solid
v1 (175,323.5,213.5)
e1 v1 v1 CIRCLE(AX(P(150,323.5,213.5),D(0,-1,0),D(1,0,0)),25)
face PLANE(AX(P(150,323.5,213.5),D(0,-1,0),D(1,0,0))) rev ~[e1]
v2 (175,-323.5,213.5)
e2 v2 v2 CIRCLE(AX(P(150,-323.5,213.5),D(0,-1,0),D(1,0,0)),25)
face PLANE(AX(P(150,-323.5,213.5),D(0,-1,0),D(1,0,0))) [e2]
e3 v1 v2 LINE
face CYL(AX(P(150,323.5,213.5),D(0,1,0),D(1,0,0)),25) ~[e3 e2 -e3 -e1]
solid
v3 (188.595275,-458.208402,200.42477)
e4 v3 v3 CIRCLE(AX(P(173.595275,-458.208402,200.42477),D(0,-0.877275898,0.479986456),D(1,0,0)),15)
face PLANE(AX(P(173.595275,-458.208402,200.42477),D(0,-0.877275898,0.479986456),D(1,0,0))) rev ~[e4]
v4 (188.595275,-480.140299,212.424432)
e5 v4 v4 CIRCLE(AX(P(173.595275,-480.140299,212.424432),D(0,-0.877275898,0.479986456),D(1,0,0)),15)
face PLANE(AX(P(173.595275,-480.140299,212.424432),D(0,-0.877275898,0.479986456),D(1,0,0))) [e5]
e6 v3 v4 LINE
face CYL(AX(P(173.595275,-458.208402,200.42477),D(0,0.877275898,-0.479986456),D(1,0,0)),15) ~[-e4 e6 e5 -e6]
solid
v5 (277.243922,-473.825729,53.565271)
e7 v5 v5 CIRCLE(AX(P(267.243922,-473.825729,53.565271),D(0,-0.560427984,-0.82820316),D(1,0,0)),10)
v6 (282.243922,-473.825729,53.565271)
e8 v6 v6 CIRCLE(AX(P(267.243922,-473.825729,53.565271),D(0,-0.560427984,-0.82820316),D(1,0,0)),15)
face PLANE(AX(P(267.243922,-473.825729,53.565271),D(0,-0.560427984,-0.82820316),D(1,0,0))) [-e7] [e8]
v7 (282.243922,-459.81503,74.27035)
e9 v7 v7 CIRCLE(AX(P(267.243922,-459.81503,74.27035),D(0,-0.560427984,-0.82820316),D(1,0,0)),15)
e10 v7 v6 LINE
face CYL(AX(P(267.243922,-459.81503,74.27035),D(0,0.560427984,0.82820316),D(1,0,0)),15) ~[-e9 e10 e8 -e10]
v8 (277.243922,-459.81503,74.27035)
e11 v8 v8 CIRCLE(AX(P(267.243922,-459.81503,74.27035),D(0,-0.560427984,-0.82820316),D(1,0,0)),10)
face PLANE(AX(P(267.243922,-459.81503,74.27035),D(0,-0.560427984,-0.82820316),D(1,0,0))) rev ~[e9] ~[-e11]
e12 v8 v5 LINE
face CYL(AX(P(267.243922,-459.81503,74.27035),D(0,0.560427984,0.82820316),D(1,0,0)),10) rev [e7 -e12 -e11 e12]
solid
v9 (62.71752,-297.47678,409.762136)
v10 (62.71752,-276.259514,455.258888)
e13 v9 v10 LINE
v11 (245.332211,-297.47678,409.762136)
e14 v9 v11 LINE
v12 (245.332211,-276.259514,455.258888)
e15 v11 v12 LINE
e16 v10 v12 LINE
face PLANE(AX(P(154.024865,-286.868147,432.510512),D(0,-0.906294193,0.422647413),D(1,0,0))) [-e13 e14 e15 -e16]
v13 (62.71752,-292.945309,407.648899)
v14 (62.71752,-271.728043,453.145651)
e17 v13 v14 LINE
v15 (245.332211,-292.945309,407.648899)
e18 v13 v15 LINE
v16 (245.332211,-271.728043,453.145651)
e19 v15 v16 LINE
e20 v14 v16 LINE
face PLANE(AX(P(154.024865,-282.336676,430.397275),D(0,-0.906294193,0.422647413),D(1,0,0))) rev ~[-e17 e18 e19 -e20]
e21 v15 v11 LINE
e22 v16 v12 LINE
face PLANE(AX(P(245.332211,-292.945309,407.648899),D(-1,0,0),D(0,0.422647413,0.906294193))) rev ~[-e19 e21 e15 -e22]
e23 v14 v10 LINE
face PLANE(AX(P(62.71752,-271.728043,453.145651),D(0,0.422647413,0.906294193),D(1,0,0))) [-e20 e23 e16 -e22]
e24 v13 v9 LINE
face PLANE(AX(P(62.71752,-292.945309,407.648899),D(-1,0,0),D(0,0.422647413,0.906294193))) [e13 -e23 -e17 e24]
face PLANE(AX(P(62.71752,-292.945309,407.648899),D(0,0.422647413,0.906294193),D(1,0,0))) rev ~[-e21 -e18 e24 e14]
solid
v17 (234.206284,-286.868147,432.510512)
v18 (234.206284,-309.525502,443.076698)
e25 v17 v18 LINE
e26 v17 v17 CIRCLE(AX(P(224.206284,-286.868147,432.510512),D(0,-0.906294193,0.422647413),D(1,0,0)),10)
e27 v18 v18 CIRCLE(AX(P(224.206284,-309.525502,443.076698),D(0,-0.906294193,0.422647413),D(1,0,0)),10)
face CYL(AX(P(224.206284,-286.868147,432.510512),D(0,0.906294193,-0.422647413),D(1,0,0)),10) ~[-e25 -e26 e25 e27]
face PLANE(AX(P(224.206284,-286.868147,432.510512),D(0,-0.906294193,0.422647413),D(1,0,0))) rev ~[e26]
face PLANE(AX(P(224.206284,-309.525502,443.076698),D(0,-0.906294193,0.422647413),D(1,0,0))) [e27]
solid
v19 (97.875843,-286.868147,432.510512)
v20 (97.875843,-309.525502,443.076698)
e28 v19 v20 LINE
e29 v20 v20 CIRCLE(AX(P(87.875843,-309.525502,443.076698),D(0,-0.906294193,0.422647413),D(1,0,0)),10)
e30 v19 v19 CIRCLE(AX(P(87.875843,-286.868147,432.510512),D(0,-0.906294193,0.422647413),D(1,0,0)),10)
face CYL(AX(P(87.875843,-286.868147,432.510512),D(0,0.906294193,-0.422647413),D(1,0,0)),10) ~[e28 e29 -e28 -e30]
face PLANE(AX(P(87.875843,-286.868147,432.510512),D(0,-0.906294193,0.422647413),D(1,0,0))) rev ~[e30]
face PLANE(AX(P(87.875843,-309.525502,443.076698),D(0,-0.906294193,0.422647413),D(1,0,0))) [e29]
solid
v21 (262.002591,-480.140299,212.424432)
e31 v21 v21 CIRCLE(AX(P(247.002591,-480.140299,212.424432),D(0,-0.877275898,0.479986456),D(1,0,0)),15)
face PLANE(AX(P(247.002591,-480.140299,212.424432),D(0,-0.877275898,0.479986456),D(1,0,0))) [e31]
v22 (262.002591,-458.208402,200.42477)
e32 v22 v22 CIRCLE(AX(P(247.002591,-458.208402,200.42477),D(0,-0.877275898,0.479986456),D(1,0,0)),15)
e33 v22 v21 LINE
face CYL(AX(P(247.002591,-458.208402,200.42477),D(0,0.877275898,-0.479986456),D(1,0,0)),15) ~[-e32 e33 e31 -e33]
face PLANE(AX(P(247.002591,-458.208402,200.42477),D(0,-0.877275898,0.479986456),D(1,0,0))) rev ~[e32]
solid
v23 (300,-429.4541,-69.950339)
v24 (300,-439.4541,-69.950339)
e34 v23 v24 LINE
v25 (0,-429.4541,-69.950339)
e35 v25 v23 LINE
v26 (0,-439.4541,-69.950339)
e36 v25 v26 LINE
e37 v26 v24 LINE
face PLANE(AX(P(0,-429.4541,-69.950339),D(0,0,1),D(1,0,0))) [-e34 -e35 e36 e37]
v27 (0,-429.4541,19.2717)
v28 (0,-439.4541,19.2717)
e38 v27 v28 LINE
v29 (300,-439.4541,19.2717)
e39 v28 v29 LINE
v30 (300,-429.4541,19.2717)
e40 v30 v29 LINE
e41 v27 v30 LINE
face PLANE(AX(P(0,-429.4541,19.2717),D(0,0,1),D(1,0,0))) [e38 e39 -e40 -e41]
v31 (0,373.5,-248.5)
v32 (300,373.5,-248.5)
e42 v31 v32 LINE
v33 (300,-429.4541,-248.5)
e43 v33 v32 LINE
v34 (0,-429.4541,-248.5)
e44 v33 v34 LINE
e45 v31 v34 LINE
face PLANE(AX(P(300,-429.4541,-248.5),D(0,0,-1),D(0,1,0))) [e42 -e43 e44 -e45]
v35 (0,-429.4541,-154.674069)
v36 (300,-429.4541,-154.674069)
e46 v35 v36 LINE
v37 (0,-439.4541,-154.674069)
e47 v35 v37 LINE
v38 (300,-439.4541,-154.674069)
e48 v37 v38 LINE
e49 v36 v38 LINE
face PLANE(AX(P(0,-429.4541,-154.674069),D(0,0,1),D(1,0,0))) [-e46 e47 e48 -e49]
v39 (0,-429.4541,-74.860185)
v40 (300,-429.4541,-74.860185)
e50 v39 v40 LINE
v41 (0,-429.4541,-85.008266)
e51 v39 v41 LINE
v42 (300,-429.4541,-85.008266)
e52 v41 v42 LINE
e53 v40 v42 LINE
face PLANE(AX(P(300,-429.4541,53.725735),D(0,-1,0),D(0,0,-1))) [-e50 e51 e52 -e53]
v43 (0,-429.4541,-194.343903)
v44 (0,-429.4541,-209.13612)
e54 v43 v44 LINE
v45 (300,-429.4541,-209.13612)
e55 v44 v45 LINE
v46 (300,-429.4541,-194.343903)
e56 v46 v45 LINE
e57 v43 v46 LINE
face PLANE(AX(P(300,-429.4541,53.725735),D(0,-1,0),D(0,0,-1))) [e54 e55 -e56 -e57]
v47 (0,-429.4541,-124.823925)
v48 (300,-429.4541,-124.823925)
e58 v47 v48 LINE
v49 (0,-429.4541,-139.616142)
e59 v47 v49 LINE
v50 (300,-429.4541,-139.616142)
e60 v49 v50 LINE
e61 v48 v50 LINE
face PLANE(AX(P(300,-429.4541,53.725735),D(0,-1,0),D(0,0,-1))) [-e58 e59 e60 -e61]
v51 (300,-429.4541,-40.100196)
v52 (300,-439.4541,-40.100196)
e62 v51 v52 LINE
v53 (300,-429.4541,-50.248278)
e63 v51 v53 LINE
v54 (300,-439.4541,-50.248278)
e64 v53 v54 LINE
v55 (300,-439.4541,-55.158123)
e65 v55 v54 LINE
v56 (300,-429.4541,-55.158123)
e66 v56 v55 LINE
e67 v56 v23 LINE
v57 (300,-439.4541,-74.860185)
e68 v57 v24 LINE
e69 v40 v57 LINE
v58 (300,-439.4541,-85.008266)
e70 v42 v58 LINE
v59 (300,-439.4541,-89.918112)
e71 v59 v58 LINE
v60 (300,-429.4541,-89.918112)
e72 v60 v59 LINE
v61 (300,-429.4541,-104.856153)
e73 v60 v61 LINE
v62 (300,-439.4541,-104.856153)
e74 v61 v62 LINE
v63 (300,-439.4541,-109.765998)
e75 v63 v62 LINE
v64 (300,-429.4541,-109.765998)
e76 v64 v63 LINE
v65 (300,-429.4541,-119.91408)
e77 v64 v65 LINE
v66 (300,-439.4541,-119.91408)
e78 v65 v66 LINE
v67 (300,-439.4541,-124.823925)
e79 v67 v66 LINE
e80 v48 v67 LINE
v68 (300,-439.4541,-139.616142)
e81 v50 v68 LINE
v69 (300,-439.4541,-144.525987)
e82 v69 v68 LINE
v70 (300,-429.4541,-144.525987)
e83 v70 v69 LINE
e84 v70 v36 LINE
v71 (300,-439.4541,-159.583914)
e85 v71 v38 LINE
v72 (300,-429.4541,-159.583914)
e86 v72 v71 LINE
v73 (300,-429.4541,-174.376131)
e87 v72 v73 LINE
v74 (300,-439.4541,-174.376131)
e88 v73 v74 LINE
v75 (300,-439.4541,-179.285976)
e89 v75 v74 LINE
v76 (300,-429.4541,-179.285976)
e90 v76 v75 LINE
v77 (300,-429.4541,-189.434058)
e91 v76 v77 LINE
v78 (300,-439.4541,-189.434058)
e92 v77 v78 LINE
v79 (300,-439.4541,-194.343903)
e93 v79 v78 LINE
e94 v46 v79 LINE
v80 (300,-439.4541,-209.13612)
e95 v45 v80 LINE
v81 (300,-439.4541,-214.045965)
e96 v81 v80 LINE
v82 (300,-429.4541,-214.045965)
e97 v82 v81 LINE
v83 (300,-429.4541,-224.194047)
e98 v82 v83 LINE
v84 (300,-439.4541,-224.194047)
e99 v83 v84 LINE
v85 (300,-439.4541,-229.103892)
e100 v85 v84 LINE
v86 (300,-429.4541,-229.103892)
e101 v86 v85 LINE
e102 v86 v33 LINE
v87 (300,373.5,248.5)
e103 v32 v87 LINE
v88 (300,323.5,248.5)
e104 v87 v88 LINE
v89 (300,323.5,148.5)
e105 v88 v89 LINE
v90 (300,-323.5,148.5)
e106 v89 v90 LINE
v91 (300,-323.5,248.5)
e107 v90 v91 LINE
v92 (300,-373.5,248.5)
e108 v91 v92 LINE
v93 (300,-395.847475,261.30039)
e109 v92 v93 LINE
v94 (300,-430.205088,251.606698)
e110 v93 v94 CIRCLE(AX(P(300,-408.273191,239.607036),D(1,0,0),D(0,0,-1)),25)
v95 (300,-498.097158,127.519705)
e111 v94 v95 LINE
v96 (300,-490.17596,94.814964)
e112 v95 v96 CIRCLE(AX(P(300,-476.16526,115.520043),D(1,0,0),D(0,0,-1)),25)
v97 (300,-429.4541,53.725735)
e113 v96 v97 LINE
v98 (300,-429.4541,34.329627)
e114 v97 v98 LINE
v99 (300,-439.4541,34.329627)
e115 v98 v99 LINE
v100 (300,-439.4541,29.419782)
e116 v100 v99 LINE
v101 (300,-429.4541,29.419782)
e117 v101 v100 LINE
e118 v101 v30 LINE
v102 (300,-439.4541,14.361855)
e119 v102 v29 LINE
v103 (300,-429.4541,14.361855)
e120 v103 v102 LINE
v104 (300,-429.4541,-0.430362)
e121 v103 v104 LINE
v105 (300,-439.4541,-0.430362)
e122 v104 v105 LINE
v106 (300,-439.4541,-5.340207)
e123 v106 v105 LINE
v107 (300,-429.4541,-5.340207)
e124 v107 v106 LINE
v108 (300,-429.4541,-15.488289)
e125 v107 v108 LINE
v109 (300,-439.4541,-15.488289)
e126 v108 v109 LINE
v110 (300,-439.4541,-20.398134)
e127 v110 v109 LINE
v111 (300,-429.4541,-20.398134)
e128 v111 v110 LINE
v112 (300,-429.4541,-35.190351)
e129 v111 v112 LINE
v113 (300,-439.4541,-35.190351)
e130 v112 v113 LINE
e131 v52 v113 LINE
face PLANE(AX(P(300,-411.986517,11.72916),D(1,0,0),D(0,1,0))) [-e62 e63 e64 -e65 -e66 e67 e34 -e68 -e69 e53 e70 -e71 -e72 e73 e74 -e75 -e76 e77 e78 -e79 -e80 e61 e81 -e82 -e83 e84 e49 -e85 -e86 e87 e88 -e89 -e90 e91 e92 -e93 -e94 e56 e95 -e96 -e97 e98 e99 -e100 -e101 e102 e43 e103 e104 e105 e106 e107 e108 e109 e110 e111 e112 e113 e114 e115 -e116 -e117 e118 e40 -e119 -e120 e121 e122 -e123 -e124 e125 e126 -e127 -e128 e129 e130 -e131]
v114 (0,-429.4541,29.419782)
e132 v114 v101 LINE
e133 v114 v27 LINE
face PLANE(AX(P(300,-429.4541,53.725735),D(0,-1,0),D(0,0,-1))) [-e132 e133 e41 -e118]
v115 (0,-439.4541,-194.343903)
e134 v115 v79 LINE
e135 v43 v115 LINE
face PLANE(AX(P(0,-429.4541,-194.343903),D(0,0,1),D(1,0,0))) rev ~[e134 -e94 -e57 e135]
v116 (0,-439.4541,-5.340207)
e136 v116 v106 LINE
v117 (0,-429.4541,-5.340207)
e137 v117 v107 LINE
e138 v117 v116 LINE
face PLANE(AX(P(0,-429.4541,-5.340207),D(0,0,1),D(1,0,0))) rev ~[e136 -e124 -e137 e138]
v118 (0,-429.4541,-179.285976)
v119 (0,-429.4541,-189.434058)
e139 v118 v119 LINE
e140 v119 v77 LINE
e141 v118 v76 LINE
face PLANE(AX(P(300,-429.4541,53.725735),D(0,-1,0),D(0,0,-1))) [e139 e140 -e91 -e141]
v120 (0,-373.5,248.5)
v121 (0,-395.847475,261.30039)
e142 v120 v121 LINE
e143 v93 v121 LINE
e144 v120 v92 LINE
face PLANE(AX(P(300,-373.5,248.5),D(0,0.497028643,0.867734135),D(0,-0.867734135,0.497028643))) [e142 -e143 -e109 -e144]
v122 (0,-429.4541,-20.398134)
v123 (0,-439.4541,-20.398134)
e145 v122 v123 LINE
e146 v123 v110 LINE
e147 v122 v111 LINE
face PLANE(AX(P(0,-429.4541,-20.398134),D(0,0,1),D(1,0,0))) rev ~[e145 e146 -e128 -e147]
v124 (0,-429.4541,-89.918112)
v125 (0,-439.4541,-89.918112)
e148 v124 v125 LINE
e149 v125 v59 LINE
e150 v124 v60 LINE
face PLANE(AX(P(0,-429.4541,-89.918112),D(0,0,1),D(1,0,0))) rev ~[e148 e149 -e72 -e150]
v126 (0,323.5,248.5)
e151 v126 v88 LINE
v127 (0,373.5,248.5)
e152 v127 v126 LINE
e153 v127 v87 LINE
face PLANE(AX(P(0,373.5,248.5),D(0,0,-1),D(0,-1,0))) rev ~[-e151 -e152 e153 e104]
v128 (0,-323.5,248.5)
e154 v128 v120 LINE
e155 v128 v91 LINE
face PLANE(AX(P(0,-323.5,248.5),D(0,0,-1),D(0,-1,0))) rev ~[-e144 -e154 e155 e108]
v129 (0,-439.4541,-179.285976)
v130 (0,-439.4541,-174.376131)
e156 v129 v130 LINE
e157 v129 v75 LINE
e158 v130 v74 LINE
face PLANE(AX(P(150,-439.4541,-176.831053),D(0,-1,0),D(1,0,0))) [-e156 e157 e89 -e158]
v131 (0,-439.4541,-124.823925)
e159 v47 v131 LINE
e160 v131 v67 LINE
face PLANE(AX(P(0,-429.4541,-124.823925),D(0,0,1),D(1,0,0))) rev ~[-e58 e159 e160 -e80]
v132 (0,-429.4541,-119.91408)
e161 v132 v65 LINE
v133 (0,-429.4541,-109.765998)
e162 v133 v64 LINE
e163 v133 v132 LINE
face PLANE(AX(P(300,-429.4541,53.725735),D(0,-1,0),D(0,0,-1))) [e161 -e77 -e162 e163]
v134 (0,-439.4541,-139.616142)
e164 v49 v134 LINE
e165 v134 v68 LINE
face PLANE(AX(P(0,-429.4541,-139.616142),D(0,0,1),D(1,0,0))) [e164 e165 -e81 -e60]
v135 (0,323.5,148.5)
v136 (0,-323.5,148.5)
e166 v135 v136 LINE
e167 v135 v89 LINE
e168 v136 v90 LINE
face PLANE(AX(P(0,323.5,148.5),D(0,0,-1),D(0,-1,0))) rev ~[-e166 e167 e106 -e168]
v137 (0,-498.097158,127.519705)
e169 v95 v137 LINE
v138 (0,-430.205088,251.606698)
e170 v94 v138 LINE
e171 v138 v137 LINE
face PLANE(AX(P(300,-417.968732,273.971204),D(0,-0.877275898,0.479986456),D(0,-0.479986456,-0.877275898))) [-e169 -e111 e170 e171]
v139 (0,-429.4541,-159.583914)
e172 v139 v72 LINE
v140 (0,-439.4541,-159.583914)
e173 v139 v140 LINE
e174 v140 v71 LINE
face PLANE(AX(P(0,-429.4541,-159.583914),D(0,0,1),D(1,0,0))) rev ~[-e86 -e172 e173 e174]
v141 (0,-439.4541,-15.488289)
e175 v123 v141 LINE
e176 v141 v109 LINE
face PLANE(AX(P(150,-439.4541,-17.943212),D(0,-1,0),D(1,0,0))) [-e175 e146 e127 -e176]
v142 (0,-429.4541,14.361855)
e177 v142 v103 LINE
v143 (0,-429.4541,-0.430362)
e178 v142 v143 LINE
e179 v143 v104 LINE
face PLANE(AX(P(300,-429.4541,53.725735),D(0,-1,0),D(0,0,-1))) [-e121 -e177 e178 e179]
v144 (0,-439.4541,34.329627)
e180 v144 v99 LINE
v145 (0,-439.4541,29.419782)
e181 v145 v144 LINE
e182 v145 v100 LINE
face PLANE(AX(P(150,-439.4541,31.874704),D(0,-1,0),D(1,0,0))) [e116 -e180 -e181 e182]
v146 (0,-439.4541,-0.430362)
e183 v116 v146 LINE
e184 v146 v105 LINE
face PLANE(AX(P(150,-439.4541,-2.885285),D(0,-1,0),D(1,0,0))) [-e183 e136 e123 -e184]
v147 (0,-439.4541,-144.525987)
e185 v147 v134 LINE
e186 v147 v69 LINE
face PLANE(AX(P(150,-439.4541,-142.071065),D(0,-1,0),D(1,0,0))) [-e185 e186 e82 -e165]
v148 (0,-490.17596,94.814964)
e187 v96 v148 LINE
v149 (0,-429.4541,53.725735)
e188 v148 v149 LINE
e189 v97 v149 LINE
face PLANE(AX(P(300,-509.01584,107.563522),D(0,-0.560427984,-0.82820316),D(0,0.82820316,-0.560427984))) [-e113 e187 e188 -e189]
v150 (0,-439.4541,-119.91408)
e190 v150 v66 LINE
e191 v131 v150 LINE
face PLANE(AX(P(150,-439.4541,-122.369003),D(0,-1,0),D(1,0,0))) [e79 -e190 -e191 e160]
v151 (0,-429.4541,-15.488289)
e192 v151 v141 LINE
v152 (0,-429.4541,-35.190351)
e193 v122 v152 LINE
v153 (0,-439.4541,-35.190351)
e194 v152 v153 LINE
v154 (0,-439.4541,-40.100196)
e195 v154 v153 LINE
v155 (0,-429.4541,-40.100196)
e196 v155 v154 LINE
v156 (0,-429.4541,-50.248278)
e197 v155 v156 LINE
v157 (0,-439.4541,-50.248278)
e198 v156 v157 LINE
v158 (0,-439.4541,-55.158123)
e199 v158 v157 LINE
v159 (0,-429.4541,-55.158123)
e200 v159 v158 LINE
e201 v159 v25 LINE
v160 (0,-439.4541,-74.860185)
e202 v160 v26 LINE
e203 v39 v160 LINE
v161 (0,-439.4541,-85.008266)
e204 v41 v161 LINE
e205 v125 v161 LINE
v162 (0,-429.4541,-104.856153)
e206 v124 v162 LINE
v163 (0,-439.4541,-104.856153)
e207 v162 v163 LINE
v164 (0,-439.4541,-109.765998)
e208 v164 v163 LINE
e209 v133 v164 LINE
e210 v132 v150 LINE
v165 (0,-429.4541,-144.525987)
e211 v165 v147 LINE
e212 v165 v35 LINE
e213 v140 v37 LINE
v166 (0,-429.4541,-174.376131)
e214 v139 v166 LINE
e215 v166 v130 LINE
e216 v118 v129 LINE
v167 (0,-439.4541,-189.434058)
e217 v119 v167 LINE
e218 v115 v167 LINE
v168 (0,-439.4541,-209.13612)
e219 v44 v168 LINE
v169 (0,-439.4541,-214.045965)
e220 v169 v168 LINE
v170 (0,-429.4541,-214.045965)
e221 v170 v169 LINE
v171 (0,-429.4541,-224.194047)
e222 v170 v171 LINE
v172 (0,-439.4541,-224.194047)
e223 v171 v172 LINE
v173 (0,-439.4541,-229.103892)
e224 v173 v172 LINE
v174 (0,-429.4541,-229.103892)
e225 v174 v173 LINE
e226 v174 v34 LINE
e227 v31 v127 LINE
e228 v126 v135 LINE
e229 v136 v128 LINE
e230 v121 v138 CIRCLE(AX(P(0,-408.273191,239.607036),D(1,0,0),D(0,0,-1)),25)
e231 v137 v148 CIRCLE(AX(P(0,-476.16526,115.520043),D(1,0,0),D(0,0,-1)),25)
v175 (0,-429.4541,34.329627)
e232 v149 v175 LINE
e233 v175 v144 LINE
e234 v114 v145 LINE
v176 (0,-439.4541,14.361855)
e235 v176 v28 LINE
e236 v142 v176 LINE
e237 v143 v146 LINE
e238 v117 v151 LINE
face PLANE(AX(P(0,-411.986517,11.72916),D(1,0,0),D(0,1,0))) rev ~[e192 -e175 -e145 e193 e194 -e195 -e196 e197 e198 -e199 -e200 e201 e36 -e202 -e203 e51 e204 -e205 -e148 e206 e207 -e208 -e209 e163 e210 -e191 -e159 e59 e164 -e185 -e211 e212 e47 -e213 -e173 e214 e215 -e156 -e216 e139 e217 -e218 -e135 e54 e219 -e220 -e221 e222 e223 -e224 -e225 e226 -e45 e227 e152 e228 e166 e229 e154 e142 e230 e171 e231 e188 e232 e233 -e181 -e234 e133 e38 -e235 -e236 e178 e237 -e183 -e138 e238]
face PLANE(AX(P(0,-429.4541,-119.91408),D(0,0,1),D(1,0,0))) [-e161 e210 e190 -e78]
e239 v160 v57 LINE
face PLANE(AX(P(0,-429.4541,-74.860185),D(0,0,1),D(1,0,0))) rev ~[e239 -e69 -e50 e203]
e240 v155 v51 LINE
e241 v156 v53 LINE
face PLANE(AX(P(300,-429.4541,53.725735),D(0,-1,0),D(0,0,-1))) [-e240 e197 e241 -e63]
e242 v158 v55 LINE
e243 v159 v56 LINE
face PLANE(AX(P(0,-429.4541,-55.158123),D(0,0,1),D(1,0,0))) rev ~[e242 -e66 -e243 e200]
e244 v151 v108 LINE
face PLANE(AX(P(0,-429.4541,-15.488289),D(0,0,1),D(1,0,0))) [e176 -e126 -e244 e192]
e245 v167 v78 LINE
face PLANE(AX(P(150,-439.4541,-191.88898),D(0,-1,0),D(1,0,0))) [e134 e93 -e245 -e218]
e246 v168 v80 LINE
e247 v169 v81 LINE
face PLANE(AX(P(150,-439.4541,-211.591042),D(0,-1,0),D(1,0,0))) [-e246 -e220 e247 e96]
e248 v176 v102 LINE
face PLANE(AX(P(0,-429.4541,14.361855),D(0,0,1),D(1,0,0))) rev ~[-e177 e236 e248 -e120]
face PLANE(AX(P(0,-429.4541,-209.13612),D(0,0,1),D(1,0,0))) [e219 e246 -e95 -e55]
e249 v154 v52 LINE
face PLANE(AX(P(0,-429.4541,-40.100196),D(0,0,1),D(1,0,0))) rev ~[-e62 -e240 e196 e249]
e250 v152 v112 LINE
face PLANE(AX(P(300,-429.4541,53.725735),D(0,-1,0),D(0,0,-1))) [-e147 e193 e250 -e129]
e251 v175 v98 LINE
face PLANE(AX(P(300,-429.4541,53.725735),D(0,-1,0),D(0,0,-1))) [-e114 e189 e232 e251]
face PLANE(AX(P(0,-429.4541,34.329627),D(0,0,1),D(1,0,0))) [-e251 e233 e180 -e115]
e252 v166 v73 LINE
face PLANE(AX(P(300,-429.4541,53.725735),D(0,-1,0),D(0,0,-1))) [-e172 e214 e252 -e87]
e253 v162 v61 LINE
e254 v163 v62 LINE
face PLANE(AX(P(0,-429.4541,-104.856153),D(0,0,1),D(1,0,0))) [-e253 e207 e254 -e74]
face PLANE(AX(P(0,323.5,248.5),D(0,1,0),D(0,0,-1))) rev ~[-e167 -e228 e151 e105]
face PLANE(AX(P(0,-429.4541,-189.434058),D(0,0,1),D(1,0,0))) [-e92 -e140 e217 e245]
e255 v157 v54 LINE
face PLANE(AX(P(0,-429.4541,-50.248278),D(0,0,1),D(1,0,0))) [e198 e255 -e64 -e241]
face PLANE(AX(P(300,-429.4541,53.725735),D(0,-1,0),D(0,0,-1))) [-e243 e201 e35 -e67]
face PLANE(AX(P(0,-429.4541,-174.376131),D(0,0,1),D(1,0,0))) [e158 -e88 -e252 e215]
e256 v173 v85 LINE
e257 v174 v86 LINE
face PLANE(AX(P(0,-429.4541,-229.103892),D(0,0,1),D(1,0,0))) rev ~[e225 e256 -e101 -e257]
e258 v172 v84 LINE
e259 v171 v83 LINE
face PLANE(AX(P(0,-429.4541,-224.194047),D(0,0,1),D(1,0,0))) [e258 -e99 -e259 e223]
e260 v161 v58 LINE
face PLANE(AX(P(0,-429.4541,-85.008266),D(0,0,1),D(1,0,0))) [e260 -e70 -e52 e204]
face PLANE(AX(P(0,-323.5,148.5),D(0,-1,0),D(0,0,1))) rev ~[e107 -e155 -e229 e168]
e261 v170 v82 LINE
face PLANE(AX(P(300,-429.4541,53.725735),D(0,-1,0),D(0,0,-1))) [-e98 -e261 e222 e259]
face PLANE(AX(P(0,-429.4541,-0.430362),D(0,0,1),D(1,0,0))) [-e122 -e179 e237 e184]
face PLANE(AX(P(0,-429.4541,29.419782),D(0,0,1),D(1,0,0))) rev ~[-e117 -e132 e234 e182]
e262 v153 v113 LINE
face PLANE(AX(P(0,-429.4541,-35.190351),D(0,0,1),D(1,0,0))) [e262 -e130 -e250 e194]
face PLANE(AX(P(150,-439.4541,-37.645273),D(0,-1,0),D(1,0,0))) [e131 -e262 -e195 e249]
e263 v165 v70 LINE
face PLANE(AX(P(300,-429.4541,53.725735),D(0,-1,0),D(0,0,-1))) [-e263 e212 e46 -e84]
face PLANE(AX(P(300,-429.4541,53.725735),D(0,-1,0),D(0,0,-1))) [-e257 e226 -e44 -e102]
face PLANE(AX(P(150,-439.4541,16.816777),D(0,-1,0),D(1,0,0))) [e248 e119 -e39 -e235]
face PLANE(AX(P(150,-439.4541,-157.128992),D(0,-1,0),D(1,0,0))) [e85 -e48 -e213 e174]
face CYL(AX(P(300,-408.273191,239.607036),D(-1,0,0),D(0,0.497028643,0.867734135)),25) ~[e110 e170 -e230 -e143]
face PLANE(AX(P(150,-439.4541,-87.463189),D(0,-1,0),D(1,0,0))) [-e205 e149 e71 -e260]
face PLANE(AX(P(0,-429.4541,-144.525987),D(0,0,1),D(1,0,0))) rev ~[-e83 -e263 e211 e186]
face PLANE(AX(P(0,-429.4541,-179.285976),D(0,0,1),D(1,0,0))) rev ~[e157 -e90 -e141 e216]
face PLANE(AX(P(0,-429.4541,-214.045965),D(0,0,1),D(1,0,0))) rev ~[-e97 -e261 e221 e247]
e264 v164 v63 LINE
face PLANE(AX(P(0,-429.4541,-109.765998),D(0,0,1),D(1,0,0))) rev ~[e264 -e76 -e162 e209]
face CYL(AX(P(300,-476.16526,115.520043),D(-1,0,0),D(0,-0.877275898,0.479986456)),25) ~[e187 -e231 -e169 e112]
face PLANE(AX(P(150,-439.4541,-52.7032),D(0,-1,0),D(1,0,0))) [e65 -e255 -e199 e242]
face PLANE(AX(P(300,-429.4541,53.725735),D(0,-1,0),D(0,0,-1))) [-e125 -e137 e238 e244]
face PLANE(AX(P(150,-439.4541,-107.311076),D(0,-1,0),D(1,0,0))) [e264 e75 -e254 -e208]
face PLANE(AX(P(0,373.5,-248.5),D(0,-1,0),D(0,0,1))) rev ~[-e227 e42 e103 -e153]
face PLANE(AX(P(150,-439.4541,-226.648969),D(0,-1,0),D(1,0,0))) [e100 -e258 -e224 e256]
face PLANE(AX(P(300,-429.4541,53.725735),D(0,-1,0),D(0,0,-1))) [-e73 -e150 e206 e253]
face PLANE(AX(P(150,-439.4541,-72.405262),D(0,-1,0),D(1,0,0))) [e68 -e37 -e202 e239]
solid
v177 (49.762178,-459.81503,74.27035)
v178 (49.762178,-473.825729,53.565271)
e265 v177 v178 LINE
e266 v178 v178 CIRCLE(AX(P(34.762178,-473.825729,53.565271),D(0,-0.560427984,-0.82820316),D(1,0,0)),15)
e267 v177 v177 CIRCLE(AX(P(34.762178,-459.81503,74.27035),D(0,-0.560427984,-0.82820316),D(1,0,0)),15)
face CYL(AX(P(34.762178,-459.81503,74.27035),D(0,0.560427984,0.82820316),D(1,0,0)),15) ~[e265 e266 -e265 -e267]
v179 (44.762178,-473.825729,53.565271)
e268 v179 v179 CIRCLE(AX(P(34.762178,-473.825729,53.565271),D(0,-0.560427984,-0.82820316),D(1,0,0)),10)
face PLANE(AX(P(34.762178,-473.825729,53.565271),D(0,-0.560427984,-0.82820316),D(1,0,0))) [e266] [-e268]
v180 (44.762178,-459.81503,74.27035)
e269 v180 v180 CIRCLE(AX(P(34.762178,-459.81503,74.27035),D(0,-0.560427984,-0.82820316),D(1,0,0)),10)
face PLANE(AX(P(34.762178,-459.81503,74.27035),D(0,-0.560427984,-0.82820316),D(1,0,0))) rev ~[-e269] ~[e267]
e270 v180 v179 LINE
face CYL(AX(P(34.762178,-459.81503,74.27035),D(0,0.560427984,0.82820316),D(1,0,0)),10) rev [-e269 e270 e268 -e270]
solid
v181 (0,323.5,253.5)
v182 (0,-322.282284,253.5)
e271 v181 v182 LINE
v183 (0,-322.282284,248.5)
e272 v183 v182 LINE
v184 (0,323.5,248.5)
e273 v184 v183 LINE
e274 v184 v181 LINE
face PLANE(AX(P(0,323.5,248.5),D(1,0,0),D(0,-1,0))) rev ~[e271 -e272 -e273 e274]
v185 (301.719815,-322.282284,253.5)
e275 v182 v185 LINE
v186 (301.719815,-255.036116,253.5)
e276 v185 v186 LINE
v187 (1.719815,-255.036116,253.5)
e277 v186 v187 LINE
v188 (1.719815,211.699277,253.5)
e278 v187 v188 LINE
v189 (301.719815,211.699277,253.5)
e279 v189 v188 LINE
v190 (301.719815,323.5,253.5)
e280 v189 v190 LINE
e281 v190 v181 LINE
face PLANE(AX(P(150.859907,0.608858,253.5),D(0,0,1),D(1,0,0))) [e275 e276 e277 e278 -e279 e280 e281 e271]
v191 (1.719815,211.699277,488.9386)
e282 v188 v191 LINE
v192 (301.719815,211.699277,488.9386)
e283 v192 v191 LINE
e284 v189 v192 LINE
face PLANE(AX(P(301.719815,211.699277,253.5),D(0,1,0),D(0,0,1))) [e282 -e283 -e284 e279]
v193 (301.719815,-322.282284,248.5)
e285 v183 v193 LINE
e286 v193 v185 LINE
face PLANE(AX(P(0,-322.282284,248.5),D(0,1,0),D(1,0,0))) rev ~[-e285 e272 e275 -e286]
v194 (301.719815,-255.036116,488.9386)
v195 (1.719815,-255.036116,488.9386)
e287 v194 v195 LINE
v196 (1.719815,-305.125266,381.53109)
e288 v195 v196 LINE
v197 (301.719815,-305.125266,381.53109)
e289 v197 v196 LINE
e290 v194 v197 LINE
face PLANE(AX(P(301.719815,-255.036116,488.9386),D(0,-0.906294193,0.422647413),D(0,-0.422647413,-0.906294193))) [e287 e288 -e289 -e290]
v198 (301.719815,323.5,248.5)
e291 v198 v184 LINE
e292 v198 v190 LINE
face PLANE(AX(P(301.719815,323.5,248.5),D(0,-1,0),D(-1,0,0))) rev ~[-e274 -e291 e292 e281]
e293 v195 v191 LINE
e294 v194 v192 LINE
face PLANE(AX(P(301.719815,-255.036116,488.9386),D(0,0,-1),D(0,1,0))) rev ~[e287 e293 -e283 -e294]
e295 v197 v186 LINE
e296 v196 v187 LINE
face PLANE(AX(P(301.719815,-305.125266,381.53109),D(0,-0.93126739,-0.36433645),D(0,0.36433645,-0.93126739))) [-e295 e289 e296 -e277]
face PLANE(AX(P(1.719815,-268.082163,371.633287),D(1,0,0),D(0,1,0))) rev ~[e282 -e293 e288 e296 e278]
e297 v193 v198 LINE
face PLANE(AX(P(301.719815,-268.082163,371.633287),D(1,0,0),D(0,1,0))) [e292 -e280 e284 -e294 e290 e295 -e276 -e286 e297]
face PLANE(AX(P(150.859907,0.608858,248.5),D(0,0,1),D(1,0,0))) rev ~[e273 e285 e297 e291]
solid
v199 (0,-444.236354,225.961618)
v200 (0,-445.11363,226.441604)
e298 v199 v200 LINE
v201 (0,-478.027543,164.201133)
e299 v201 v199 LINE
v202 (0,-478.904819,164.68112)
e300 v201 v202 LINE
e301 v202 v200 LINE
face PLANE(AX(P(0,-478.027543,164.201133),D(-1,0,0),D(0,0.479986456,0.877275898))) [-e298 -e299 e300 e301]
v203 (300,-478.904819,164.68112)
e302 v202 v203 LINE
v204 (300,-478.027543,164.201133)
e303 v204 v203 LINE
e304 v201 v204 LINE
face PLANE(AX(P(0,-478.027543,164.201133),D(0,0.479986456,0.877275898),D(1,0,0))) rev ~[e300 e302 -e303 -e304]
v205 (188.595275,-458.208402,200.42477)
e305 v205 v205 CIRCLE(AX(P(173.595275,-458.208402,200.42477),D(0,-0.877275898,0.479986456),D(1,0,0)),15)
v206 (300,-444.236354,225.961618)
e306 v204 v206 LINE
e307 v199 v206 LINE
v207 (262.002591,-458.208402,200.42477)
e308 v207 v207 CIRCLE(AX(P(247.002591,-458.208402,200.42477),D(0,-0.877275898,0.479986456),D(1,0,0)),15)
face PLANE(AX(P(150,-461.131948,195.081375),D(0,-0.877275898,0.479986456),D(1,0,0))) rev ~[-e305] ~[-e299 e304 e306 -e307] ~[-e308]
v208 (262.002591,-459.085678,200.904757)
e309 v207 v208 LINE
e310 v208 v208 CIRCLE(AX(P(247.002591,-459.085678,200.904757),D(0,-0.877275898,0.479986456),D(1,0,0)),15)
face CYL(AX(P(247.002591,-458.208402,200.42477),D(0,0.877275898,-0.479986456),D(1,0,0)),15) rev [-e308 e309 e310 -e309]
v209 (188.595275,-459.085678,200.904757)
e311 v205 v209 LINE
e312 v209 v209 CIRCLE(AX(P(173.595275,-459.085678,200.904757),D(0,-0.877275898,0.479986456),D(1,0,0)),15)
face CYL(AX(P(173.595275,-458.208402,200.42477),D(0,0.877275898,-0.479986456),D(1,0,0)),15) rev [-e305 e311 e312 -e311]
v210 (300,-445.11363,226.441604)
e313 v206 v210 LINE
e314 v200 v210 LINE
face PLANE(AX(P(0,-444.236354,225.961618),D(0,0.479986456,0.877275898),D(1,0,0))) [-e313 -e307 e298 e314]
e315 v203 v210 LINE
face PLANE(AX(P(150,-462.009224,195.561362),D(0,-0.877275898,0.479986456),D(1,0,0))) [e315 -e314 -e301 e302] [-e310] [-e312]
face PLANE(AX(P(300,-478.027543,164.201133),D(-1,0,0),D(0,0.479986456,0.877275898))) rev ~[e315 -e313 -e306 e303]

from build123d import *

# Parameters (mm, degrees)
F1_DEPTH  = 300
F2_R      = 25
F3_DEPTH  = 647
F5_DEPTH  = 300
F6_R      = 25
F7_R      = 25
F8_W      = 300
F8_H      = 70.4002976418
F8_R      = 15
F9_DEPTH  = 1
F10_DEPTH = 25
F11_DEPTH = 25
F12_R     = 15
F12_R_2   = 10
F13_DEPTH = 25
F14_W     = 300
F14_H     = 4.9098450691
F15_DEPTH = 10
F17_DEPTH = 5
F18_W     = 466.7353928089
F18_H     = 235.4385998249
F19_DEPTH = 300
F21_DEPTH = 300
F22_W     = 182.6146915555
F22_H     = 50.2008646727
F23_DEPTH = 5
F24_R     = 10
F25_DEPTH = 25


with BuildPart() as f1:
    # F0 (on Right) → F1 (new body)
    with BuildSketch(Plane.YZ):
        Polygon((-373.5, 248.5), (-373.5, -248.5), (373.5, -248.5), (373.5, 248.5), (323.5, 248.5), (323.5, 148.5), (-323.5, 148.5), (-323.5, 248.5), align=None)
    extrude(amount=F1_DEPTH)

    # F4 (on face) → F5 (join)
    with BuildSketch(Plane.YZ.offset(300)):
        Polygon((-373.5, -248.5), (-373.5, 248.5), (-417.9687320084, 273.9712044001), (-509.0158401817, 107.5635223985), (-429.4541000218, 53.7257350385), (-429.4541000218, -248.5), align=None)
    extrude(amount=-F5_DEPTH)

    # F6
    f6_edges = [f1.edges().sort_by_distance(p)[0] for p in [
        (150, -417.968732, 273.971204),
    ]]
    fillet(f6_edges, radius=F6_R)

    # F7
    f7_edges = [f1.edges().sort_by_distance(p)[0] for p in [
        (150, -509.01584, 107.563522),
    ]]
    fillet(f7_edges, radius=F7_R)

    # F14 (on face) → F15 (join)
    with BuildSketch(Plane.XZ.offset(429.4541000218)):
        with Locations((150, 31.8747041747)):
            Rectangle(F14_W, F14_H)
        with Locations((150, 16.8167771772)):
            Rectangle(F14_W, F14_H)
        with Locations((150, -2.8852845505)):
            Rectangle(F14_W, F14_H)
        with Locations((150, -17.943211548)):
            Rectangle(F14_W, F14_H)
        with Locations((150, -37.6452732757)):
            Rectangle(F14_W, F14_H)
        with Locations((150, -52.7032002732)):
            Rectangle(F14_W, F14_H)
        with Locations((150, -72.4052620009)):
            Rectangle(F14_W, F14_H)
        with Locations((150, -87.4631889984)):
            Rectangle(F14_W, F14_H)
        with Locations((150, -107.3110759631)):
            Rectangle(F14_W, F14_H)
        with Locations((150, -122.3690029606)):
            Rectangle(F14_W, F14_H)
        with Locations((150, -142.0710646883)):
            Rectangle(F14_W, F14_H)
        with Locations((150, -157.1289916858)):
            Rectangle(F14_W, F14_H)
        with Locations((150, -176.8310534135)):
            Rectangle(F14_W, F14_H)
        with Locations((150, -191.888980411)):
            Rectangle(F14_W, F14_H)
        with Locations((150, -211.5910421386)):
            Rectangle(F14_W, F14_H)
        with Locations((150, -226.6489691362)):
            Rectangle(F14_W, F14_H)
    extrude(amount=F15_DEPTH)


with BuildPart() as f3:
    # F2 (on face) → F3 (new body, through all)
    with BuildSketch(Plane.XZ.offset(-323.5)):
        with Locations((150, 213.5)):
            Circle(F2_R)
    extrude(amount=F3_DEPTH)


with BuildPart() as f9:
    # F8 (on face) → F9 (new body)
    with BuildSketch(Plane(origin=(0, -437.0381157891, 239.1179068509), x_dir=(1, 0, 0), z_dir=(0, -0.8772758982, 0.4799864564))):
        with Locations((150, -50.1969009638)):
            Rectangle(F8_W, F8_H)
        with Locations((173.5952753637, -44.1060066223)):
            Circle(F8_R, mode=Mode.SUBTRACT)
        with Locations((247.0025908139, -44.1060066223)):
            Circle(F8_R, mode=Mode.SUBTRACT)
    extrude(amount=F9_DEPTH)


with BuildPart() as f10:
    # F8 (on face) → F10 (new body)
    with BuildSketch(Plane(origin=(0, -437.0381157891, 239.1179068509), x_dir=(1, 0, 0), z_dir=(0, -0.8772758982, 0.4799864564))):
        with Locations((173.5952753637, -44.1060066223)):
            Circle(F8_R)
    extrude(amount=F10_DEPTH)


with BuildPart() as f11:
    # F8 (on face) → F11 (new body)
    with BuildSketch(Plane(origin=(0, -437.0381157891, 239.1179068509), x_dir=(1, 0, 0), z_dir=(0, -0.8772758982, 0.4799864564))):
        with Locations((247.0025908139, -44.1060066223)):
            Circle(F8_R)
    extrude(amount=F11_DEPTH)


with BuildPart() as f13:
    # F12 (on face) → F13 (new body)
    with BuildSketch(Plane(origin=(0, -109.9460351412, -162.4787776109), x_dir=(1, 0, 0), z_dir=(0, -0.560427984, -0.8282031603))):
        with Locations((34.7621776164, 422.4434431663)):
            Circle(F12_R)
        with Locations((34.7621776164, 422.4434431663)):
            Circle(F12_R_2, mode=Mode.SUBTRACT)
    extrude(amount=F13_DEPTH)


with BuildPart() as f13b:
    # F12 (on face) → F13, piece 2 (new body)
    with BuildSketch(Plane(origin=(0, -109.9460351412, -162.4787776109), x_dir=(1, 0, 0), z_dir=(0, -0.560427984, -0.8282031603))):
        with Locations((267.2439217567, 422.4434431663)):
            Circle(F12_R)
        with Locations((267.2439217567, 422.4434431663)):
            Circle(F12_R_2, mode=Mode.SUBTRACT)
    extrude(amount=F13_DEPTH)


with BuildPart() as f17:
    # F16 (on face) → F17 (new body)
    with BuildSketch(Plane.XY.offset(248.5)):
        Polygon((300, 323.5), (0, 323.5), (0, -322.2822844982), (301.719814539, -322.2822844982), (301.719814539, 323.5), align=None)
    extrude(amount=F17_DEPTH)

    # F18 (on face) → F19 (join)
    with BuildSketch(Plane.YZ.offset(301.719814539)):
        with Locations((-21.6684192419, 371.2192999125)):
            Rectangle(F18_W, F18_H)
    extrude(amount=-F19_DEPTH)

    # F20 (on face) → F21 (join)
    with BuildSketch(Plane.YZ.offset(301.719814539)):
        Polygon((-305.1252663136, 381.5310895443), (-255.0361156464, 253.5), (-255.0361156464, 488.9385998249), align=None)
    extrude(amount=-F21_DEPTH)


with BuildPart() as f23:
    # F22 (on face) → F23 (new body)
    with BuildSketch(Plane(origin=(0, -396.763258485, 185.0292831622), x_dir=(1, 0, 0), z_dir=(0, -0.9062941929, 0.4226474132))):
        with Locations((154.0248654783, 270.7376852632)):
            Rectangle(F22_W, F22_H)
    extrude(amount=F23_DEPTH)


with BuildPart() as f25:
    # F24 (on face) → F25 (new body)
    with BuildSketch(Plane(origin=(0, -401.2947294496, 187.1425202282), x_dir=(1, 0, 0), z_dir=(0, -0.9062941929, 0.4226474132))):
        with Locations((87.8758430481, 270.7376852632)):
            Circle(F24_R)
    extrude(amount=F25_DEPTH)


with BuildPart() as f25b:
    # F24 (on face) → F25, piece 2 (new body)
    with BuildSketch(Plane(origin=(0, -401.2947294496, 187.1425202282), x_dir=(1, 0, 0), z_dir=(0, -0.9062941929, 0.4226474132))):
        with Locations((224.2062836885, 270.7376852632)):
            Circle(F24_R)
    extrude(amount=F25_DEPTH)


solid = Compound([f1.part, f3.part, f9.part, f10.part, f11.part, f13.part, f13b.part, f17.part, f23.part, f25.part, f25b.part])
